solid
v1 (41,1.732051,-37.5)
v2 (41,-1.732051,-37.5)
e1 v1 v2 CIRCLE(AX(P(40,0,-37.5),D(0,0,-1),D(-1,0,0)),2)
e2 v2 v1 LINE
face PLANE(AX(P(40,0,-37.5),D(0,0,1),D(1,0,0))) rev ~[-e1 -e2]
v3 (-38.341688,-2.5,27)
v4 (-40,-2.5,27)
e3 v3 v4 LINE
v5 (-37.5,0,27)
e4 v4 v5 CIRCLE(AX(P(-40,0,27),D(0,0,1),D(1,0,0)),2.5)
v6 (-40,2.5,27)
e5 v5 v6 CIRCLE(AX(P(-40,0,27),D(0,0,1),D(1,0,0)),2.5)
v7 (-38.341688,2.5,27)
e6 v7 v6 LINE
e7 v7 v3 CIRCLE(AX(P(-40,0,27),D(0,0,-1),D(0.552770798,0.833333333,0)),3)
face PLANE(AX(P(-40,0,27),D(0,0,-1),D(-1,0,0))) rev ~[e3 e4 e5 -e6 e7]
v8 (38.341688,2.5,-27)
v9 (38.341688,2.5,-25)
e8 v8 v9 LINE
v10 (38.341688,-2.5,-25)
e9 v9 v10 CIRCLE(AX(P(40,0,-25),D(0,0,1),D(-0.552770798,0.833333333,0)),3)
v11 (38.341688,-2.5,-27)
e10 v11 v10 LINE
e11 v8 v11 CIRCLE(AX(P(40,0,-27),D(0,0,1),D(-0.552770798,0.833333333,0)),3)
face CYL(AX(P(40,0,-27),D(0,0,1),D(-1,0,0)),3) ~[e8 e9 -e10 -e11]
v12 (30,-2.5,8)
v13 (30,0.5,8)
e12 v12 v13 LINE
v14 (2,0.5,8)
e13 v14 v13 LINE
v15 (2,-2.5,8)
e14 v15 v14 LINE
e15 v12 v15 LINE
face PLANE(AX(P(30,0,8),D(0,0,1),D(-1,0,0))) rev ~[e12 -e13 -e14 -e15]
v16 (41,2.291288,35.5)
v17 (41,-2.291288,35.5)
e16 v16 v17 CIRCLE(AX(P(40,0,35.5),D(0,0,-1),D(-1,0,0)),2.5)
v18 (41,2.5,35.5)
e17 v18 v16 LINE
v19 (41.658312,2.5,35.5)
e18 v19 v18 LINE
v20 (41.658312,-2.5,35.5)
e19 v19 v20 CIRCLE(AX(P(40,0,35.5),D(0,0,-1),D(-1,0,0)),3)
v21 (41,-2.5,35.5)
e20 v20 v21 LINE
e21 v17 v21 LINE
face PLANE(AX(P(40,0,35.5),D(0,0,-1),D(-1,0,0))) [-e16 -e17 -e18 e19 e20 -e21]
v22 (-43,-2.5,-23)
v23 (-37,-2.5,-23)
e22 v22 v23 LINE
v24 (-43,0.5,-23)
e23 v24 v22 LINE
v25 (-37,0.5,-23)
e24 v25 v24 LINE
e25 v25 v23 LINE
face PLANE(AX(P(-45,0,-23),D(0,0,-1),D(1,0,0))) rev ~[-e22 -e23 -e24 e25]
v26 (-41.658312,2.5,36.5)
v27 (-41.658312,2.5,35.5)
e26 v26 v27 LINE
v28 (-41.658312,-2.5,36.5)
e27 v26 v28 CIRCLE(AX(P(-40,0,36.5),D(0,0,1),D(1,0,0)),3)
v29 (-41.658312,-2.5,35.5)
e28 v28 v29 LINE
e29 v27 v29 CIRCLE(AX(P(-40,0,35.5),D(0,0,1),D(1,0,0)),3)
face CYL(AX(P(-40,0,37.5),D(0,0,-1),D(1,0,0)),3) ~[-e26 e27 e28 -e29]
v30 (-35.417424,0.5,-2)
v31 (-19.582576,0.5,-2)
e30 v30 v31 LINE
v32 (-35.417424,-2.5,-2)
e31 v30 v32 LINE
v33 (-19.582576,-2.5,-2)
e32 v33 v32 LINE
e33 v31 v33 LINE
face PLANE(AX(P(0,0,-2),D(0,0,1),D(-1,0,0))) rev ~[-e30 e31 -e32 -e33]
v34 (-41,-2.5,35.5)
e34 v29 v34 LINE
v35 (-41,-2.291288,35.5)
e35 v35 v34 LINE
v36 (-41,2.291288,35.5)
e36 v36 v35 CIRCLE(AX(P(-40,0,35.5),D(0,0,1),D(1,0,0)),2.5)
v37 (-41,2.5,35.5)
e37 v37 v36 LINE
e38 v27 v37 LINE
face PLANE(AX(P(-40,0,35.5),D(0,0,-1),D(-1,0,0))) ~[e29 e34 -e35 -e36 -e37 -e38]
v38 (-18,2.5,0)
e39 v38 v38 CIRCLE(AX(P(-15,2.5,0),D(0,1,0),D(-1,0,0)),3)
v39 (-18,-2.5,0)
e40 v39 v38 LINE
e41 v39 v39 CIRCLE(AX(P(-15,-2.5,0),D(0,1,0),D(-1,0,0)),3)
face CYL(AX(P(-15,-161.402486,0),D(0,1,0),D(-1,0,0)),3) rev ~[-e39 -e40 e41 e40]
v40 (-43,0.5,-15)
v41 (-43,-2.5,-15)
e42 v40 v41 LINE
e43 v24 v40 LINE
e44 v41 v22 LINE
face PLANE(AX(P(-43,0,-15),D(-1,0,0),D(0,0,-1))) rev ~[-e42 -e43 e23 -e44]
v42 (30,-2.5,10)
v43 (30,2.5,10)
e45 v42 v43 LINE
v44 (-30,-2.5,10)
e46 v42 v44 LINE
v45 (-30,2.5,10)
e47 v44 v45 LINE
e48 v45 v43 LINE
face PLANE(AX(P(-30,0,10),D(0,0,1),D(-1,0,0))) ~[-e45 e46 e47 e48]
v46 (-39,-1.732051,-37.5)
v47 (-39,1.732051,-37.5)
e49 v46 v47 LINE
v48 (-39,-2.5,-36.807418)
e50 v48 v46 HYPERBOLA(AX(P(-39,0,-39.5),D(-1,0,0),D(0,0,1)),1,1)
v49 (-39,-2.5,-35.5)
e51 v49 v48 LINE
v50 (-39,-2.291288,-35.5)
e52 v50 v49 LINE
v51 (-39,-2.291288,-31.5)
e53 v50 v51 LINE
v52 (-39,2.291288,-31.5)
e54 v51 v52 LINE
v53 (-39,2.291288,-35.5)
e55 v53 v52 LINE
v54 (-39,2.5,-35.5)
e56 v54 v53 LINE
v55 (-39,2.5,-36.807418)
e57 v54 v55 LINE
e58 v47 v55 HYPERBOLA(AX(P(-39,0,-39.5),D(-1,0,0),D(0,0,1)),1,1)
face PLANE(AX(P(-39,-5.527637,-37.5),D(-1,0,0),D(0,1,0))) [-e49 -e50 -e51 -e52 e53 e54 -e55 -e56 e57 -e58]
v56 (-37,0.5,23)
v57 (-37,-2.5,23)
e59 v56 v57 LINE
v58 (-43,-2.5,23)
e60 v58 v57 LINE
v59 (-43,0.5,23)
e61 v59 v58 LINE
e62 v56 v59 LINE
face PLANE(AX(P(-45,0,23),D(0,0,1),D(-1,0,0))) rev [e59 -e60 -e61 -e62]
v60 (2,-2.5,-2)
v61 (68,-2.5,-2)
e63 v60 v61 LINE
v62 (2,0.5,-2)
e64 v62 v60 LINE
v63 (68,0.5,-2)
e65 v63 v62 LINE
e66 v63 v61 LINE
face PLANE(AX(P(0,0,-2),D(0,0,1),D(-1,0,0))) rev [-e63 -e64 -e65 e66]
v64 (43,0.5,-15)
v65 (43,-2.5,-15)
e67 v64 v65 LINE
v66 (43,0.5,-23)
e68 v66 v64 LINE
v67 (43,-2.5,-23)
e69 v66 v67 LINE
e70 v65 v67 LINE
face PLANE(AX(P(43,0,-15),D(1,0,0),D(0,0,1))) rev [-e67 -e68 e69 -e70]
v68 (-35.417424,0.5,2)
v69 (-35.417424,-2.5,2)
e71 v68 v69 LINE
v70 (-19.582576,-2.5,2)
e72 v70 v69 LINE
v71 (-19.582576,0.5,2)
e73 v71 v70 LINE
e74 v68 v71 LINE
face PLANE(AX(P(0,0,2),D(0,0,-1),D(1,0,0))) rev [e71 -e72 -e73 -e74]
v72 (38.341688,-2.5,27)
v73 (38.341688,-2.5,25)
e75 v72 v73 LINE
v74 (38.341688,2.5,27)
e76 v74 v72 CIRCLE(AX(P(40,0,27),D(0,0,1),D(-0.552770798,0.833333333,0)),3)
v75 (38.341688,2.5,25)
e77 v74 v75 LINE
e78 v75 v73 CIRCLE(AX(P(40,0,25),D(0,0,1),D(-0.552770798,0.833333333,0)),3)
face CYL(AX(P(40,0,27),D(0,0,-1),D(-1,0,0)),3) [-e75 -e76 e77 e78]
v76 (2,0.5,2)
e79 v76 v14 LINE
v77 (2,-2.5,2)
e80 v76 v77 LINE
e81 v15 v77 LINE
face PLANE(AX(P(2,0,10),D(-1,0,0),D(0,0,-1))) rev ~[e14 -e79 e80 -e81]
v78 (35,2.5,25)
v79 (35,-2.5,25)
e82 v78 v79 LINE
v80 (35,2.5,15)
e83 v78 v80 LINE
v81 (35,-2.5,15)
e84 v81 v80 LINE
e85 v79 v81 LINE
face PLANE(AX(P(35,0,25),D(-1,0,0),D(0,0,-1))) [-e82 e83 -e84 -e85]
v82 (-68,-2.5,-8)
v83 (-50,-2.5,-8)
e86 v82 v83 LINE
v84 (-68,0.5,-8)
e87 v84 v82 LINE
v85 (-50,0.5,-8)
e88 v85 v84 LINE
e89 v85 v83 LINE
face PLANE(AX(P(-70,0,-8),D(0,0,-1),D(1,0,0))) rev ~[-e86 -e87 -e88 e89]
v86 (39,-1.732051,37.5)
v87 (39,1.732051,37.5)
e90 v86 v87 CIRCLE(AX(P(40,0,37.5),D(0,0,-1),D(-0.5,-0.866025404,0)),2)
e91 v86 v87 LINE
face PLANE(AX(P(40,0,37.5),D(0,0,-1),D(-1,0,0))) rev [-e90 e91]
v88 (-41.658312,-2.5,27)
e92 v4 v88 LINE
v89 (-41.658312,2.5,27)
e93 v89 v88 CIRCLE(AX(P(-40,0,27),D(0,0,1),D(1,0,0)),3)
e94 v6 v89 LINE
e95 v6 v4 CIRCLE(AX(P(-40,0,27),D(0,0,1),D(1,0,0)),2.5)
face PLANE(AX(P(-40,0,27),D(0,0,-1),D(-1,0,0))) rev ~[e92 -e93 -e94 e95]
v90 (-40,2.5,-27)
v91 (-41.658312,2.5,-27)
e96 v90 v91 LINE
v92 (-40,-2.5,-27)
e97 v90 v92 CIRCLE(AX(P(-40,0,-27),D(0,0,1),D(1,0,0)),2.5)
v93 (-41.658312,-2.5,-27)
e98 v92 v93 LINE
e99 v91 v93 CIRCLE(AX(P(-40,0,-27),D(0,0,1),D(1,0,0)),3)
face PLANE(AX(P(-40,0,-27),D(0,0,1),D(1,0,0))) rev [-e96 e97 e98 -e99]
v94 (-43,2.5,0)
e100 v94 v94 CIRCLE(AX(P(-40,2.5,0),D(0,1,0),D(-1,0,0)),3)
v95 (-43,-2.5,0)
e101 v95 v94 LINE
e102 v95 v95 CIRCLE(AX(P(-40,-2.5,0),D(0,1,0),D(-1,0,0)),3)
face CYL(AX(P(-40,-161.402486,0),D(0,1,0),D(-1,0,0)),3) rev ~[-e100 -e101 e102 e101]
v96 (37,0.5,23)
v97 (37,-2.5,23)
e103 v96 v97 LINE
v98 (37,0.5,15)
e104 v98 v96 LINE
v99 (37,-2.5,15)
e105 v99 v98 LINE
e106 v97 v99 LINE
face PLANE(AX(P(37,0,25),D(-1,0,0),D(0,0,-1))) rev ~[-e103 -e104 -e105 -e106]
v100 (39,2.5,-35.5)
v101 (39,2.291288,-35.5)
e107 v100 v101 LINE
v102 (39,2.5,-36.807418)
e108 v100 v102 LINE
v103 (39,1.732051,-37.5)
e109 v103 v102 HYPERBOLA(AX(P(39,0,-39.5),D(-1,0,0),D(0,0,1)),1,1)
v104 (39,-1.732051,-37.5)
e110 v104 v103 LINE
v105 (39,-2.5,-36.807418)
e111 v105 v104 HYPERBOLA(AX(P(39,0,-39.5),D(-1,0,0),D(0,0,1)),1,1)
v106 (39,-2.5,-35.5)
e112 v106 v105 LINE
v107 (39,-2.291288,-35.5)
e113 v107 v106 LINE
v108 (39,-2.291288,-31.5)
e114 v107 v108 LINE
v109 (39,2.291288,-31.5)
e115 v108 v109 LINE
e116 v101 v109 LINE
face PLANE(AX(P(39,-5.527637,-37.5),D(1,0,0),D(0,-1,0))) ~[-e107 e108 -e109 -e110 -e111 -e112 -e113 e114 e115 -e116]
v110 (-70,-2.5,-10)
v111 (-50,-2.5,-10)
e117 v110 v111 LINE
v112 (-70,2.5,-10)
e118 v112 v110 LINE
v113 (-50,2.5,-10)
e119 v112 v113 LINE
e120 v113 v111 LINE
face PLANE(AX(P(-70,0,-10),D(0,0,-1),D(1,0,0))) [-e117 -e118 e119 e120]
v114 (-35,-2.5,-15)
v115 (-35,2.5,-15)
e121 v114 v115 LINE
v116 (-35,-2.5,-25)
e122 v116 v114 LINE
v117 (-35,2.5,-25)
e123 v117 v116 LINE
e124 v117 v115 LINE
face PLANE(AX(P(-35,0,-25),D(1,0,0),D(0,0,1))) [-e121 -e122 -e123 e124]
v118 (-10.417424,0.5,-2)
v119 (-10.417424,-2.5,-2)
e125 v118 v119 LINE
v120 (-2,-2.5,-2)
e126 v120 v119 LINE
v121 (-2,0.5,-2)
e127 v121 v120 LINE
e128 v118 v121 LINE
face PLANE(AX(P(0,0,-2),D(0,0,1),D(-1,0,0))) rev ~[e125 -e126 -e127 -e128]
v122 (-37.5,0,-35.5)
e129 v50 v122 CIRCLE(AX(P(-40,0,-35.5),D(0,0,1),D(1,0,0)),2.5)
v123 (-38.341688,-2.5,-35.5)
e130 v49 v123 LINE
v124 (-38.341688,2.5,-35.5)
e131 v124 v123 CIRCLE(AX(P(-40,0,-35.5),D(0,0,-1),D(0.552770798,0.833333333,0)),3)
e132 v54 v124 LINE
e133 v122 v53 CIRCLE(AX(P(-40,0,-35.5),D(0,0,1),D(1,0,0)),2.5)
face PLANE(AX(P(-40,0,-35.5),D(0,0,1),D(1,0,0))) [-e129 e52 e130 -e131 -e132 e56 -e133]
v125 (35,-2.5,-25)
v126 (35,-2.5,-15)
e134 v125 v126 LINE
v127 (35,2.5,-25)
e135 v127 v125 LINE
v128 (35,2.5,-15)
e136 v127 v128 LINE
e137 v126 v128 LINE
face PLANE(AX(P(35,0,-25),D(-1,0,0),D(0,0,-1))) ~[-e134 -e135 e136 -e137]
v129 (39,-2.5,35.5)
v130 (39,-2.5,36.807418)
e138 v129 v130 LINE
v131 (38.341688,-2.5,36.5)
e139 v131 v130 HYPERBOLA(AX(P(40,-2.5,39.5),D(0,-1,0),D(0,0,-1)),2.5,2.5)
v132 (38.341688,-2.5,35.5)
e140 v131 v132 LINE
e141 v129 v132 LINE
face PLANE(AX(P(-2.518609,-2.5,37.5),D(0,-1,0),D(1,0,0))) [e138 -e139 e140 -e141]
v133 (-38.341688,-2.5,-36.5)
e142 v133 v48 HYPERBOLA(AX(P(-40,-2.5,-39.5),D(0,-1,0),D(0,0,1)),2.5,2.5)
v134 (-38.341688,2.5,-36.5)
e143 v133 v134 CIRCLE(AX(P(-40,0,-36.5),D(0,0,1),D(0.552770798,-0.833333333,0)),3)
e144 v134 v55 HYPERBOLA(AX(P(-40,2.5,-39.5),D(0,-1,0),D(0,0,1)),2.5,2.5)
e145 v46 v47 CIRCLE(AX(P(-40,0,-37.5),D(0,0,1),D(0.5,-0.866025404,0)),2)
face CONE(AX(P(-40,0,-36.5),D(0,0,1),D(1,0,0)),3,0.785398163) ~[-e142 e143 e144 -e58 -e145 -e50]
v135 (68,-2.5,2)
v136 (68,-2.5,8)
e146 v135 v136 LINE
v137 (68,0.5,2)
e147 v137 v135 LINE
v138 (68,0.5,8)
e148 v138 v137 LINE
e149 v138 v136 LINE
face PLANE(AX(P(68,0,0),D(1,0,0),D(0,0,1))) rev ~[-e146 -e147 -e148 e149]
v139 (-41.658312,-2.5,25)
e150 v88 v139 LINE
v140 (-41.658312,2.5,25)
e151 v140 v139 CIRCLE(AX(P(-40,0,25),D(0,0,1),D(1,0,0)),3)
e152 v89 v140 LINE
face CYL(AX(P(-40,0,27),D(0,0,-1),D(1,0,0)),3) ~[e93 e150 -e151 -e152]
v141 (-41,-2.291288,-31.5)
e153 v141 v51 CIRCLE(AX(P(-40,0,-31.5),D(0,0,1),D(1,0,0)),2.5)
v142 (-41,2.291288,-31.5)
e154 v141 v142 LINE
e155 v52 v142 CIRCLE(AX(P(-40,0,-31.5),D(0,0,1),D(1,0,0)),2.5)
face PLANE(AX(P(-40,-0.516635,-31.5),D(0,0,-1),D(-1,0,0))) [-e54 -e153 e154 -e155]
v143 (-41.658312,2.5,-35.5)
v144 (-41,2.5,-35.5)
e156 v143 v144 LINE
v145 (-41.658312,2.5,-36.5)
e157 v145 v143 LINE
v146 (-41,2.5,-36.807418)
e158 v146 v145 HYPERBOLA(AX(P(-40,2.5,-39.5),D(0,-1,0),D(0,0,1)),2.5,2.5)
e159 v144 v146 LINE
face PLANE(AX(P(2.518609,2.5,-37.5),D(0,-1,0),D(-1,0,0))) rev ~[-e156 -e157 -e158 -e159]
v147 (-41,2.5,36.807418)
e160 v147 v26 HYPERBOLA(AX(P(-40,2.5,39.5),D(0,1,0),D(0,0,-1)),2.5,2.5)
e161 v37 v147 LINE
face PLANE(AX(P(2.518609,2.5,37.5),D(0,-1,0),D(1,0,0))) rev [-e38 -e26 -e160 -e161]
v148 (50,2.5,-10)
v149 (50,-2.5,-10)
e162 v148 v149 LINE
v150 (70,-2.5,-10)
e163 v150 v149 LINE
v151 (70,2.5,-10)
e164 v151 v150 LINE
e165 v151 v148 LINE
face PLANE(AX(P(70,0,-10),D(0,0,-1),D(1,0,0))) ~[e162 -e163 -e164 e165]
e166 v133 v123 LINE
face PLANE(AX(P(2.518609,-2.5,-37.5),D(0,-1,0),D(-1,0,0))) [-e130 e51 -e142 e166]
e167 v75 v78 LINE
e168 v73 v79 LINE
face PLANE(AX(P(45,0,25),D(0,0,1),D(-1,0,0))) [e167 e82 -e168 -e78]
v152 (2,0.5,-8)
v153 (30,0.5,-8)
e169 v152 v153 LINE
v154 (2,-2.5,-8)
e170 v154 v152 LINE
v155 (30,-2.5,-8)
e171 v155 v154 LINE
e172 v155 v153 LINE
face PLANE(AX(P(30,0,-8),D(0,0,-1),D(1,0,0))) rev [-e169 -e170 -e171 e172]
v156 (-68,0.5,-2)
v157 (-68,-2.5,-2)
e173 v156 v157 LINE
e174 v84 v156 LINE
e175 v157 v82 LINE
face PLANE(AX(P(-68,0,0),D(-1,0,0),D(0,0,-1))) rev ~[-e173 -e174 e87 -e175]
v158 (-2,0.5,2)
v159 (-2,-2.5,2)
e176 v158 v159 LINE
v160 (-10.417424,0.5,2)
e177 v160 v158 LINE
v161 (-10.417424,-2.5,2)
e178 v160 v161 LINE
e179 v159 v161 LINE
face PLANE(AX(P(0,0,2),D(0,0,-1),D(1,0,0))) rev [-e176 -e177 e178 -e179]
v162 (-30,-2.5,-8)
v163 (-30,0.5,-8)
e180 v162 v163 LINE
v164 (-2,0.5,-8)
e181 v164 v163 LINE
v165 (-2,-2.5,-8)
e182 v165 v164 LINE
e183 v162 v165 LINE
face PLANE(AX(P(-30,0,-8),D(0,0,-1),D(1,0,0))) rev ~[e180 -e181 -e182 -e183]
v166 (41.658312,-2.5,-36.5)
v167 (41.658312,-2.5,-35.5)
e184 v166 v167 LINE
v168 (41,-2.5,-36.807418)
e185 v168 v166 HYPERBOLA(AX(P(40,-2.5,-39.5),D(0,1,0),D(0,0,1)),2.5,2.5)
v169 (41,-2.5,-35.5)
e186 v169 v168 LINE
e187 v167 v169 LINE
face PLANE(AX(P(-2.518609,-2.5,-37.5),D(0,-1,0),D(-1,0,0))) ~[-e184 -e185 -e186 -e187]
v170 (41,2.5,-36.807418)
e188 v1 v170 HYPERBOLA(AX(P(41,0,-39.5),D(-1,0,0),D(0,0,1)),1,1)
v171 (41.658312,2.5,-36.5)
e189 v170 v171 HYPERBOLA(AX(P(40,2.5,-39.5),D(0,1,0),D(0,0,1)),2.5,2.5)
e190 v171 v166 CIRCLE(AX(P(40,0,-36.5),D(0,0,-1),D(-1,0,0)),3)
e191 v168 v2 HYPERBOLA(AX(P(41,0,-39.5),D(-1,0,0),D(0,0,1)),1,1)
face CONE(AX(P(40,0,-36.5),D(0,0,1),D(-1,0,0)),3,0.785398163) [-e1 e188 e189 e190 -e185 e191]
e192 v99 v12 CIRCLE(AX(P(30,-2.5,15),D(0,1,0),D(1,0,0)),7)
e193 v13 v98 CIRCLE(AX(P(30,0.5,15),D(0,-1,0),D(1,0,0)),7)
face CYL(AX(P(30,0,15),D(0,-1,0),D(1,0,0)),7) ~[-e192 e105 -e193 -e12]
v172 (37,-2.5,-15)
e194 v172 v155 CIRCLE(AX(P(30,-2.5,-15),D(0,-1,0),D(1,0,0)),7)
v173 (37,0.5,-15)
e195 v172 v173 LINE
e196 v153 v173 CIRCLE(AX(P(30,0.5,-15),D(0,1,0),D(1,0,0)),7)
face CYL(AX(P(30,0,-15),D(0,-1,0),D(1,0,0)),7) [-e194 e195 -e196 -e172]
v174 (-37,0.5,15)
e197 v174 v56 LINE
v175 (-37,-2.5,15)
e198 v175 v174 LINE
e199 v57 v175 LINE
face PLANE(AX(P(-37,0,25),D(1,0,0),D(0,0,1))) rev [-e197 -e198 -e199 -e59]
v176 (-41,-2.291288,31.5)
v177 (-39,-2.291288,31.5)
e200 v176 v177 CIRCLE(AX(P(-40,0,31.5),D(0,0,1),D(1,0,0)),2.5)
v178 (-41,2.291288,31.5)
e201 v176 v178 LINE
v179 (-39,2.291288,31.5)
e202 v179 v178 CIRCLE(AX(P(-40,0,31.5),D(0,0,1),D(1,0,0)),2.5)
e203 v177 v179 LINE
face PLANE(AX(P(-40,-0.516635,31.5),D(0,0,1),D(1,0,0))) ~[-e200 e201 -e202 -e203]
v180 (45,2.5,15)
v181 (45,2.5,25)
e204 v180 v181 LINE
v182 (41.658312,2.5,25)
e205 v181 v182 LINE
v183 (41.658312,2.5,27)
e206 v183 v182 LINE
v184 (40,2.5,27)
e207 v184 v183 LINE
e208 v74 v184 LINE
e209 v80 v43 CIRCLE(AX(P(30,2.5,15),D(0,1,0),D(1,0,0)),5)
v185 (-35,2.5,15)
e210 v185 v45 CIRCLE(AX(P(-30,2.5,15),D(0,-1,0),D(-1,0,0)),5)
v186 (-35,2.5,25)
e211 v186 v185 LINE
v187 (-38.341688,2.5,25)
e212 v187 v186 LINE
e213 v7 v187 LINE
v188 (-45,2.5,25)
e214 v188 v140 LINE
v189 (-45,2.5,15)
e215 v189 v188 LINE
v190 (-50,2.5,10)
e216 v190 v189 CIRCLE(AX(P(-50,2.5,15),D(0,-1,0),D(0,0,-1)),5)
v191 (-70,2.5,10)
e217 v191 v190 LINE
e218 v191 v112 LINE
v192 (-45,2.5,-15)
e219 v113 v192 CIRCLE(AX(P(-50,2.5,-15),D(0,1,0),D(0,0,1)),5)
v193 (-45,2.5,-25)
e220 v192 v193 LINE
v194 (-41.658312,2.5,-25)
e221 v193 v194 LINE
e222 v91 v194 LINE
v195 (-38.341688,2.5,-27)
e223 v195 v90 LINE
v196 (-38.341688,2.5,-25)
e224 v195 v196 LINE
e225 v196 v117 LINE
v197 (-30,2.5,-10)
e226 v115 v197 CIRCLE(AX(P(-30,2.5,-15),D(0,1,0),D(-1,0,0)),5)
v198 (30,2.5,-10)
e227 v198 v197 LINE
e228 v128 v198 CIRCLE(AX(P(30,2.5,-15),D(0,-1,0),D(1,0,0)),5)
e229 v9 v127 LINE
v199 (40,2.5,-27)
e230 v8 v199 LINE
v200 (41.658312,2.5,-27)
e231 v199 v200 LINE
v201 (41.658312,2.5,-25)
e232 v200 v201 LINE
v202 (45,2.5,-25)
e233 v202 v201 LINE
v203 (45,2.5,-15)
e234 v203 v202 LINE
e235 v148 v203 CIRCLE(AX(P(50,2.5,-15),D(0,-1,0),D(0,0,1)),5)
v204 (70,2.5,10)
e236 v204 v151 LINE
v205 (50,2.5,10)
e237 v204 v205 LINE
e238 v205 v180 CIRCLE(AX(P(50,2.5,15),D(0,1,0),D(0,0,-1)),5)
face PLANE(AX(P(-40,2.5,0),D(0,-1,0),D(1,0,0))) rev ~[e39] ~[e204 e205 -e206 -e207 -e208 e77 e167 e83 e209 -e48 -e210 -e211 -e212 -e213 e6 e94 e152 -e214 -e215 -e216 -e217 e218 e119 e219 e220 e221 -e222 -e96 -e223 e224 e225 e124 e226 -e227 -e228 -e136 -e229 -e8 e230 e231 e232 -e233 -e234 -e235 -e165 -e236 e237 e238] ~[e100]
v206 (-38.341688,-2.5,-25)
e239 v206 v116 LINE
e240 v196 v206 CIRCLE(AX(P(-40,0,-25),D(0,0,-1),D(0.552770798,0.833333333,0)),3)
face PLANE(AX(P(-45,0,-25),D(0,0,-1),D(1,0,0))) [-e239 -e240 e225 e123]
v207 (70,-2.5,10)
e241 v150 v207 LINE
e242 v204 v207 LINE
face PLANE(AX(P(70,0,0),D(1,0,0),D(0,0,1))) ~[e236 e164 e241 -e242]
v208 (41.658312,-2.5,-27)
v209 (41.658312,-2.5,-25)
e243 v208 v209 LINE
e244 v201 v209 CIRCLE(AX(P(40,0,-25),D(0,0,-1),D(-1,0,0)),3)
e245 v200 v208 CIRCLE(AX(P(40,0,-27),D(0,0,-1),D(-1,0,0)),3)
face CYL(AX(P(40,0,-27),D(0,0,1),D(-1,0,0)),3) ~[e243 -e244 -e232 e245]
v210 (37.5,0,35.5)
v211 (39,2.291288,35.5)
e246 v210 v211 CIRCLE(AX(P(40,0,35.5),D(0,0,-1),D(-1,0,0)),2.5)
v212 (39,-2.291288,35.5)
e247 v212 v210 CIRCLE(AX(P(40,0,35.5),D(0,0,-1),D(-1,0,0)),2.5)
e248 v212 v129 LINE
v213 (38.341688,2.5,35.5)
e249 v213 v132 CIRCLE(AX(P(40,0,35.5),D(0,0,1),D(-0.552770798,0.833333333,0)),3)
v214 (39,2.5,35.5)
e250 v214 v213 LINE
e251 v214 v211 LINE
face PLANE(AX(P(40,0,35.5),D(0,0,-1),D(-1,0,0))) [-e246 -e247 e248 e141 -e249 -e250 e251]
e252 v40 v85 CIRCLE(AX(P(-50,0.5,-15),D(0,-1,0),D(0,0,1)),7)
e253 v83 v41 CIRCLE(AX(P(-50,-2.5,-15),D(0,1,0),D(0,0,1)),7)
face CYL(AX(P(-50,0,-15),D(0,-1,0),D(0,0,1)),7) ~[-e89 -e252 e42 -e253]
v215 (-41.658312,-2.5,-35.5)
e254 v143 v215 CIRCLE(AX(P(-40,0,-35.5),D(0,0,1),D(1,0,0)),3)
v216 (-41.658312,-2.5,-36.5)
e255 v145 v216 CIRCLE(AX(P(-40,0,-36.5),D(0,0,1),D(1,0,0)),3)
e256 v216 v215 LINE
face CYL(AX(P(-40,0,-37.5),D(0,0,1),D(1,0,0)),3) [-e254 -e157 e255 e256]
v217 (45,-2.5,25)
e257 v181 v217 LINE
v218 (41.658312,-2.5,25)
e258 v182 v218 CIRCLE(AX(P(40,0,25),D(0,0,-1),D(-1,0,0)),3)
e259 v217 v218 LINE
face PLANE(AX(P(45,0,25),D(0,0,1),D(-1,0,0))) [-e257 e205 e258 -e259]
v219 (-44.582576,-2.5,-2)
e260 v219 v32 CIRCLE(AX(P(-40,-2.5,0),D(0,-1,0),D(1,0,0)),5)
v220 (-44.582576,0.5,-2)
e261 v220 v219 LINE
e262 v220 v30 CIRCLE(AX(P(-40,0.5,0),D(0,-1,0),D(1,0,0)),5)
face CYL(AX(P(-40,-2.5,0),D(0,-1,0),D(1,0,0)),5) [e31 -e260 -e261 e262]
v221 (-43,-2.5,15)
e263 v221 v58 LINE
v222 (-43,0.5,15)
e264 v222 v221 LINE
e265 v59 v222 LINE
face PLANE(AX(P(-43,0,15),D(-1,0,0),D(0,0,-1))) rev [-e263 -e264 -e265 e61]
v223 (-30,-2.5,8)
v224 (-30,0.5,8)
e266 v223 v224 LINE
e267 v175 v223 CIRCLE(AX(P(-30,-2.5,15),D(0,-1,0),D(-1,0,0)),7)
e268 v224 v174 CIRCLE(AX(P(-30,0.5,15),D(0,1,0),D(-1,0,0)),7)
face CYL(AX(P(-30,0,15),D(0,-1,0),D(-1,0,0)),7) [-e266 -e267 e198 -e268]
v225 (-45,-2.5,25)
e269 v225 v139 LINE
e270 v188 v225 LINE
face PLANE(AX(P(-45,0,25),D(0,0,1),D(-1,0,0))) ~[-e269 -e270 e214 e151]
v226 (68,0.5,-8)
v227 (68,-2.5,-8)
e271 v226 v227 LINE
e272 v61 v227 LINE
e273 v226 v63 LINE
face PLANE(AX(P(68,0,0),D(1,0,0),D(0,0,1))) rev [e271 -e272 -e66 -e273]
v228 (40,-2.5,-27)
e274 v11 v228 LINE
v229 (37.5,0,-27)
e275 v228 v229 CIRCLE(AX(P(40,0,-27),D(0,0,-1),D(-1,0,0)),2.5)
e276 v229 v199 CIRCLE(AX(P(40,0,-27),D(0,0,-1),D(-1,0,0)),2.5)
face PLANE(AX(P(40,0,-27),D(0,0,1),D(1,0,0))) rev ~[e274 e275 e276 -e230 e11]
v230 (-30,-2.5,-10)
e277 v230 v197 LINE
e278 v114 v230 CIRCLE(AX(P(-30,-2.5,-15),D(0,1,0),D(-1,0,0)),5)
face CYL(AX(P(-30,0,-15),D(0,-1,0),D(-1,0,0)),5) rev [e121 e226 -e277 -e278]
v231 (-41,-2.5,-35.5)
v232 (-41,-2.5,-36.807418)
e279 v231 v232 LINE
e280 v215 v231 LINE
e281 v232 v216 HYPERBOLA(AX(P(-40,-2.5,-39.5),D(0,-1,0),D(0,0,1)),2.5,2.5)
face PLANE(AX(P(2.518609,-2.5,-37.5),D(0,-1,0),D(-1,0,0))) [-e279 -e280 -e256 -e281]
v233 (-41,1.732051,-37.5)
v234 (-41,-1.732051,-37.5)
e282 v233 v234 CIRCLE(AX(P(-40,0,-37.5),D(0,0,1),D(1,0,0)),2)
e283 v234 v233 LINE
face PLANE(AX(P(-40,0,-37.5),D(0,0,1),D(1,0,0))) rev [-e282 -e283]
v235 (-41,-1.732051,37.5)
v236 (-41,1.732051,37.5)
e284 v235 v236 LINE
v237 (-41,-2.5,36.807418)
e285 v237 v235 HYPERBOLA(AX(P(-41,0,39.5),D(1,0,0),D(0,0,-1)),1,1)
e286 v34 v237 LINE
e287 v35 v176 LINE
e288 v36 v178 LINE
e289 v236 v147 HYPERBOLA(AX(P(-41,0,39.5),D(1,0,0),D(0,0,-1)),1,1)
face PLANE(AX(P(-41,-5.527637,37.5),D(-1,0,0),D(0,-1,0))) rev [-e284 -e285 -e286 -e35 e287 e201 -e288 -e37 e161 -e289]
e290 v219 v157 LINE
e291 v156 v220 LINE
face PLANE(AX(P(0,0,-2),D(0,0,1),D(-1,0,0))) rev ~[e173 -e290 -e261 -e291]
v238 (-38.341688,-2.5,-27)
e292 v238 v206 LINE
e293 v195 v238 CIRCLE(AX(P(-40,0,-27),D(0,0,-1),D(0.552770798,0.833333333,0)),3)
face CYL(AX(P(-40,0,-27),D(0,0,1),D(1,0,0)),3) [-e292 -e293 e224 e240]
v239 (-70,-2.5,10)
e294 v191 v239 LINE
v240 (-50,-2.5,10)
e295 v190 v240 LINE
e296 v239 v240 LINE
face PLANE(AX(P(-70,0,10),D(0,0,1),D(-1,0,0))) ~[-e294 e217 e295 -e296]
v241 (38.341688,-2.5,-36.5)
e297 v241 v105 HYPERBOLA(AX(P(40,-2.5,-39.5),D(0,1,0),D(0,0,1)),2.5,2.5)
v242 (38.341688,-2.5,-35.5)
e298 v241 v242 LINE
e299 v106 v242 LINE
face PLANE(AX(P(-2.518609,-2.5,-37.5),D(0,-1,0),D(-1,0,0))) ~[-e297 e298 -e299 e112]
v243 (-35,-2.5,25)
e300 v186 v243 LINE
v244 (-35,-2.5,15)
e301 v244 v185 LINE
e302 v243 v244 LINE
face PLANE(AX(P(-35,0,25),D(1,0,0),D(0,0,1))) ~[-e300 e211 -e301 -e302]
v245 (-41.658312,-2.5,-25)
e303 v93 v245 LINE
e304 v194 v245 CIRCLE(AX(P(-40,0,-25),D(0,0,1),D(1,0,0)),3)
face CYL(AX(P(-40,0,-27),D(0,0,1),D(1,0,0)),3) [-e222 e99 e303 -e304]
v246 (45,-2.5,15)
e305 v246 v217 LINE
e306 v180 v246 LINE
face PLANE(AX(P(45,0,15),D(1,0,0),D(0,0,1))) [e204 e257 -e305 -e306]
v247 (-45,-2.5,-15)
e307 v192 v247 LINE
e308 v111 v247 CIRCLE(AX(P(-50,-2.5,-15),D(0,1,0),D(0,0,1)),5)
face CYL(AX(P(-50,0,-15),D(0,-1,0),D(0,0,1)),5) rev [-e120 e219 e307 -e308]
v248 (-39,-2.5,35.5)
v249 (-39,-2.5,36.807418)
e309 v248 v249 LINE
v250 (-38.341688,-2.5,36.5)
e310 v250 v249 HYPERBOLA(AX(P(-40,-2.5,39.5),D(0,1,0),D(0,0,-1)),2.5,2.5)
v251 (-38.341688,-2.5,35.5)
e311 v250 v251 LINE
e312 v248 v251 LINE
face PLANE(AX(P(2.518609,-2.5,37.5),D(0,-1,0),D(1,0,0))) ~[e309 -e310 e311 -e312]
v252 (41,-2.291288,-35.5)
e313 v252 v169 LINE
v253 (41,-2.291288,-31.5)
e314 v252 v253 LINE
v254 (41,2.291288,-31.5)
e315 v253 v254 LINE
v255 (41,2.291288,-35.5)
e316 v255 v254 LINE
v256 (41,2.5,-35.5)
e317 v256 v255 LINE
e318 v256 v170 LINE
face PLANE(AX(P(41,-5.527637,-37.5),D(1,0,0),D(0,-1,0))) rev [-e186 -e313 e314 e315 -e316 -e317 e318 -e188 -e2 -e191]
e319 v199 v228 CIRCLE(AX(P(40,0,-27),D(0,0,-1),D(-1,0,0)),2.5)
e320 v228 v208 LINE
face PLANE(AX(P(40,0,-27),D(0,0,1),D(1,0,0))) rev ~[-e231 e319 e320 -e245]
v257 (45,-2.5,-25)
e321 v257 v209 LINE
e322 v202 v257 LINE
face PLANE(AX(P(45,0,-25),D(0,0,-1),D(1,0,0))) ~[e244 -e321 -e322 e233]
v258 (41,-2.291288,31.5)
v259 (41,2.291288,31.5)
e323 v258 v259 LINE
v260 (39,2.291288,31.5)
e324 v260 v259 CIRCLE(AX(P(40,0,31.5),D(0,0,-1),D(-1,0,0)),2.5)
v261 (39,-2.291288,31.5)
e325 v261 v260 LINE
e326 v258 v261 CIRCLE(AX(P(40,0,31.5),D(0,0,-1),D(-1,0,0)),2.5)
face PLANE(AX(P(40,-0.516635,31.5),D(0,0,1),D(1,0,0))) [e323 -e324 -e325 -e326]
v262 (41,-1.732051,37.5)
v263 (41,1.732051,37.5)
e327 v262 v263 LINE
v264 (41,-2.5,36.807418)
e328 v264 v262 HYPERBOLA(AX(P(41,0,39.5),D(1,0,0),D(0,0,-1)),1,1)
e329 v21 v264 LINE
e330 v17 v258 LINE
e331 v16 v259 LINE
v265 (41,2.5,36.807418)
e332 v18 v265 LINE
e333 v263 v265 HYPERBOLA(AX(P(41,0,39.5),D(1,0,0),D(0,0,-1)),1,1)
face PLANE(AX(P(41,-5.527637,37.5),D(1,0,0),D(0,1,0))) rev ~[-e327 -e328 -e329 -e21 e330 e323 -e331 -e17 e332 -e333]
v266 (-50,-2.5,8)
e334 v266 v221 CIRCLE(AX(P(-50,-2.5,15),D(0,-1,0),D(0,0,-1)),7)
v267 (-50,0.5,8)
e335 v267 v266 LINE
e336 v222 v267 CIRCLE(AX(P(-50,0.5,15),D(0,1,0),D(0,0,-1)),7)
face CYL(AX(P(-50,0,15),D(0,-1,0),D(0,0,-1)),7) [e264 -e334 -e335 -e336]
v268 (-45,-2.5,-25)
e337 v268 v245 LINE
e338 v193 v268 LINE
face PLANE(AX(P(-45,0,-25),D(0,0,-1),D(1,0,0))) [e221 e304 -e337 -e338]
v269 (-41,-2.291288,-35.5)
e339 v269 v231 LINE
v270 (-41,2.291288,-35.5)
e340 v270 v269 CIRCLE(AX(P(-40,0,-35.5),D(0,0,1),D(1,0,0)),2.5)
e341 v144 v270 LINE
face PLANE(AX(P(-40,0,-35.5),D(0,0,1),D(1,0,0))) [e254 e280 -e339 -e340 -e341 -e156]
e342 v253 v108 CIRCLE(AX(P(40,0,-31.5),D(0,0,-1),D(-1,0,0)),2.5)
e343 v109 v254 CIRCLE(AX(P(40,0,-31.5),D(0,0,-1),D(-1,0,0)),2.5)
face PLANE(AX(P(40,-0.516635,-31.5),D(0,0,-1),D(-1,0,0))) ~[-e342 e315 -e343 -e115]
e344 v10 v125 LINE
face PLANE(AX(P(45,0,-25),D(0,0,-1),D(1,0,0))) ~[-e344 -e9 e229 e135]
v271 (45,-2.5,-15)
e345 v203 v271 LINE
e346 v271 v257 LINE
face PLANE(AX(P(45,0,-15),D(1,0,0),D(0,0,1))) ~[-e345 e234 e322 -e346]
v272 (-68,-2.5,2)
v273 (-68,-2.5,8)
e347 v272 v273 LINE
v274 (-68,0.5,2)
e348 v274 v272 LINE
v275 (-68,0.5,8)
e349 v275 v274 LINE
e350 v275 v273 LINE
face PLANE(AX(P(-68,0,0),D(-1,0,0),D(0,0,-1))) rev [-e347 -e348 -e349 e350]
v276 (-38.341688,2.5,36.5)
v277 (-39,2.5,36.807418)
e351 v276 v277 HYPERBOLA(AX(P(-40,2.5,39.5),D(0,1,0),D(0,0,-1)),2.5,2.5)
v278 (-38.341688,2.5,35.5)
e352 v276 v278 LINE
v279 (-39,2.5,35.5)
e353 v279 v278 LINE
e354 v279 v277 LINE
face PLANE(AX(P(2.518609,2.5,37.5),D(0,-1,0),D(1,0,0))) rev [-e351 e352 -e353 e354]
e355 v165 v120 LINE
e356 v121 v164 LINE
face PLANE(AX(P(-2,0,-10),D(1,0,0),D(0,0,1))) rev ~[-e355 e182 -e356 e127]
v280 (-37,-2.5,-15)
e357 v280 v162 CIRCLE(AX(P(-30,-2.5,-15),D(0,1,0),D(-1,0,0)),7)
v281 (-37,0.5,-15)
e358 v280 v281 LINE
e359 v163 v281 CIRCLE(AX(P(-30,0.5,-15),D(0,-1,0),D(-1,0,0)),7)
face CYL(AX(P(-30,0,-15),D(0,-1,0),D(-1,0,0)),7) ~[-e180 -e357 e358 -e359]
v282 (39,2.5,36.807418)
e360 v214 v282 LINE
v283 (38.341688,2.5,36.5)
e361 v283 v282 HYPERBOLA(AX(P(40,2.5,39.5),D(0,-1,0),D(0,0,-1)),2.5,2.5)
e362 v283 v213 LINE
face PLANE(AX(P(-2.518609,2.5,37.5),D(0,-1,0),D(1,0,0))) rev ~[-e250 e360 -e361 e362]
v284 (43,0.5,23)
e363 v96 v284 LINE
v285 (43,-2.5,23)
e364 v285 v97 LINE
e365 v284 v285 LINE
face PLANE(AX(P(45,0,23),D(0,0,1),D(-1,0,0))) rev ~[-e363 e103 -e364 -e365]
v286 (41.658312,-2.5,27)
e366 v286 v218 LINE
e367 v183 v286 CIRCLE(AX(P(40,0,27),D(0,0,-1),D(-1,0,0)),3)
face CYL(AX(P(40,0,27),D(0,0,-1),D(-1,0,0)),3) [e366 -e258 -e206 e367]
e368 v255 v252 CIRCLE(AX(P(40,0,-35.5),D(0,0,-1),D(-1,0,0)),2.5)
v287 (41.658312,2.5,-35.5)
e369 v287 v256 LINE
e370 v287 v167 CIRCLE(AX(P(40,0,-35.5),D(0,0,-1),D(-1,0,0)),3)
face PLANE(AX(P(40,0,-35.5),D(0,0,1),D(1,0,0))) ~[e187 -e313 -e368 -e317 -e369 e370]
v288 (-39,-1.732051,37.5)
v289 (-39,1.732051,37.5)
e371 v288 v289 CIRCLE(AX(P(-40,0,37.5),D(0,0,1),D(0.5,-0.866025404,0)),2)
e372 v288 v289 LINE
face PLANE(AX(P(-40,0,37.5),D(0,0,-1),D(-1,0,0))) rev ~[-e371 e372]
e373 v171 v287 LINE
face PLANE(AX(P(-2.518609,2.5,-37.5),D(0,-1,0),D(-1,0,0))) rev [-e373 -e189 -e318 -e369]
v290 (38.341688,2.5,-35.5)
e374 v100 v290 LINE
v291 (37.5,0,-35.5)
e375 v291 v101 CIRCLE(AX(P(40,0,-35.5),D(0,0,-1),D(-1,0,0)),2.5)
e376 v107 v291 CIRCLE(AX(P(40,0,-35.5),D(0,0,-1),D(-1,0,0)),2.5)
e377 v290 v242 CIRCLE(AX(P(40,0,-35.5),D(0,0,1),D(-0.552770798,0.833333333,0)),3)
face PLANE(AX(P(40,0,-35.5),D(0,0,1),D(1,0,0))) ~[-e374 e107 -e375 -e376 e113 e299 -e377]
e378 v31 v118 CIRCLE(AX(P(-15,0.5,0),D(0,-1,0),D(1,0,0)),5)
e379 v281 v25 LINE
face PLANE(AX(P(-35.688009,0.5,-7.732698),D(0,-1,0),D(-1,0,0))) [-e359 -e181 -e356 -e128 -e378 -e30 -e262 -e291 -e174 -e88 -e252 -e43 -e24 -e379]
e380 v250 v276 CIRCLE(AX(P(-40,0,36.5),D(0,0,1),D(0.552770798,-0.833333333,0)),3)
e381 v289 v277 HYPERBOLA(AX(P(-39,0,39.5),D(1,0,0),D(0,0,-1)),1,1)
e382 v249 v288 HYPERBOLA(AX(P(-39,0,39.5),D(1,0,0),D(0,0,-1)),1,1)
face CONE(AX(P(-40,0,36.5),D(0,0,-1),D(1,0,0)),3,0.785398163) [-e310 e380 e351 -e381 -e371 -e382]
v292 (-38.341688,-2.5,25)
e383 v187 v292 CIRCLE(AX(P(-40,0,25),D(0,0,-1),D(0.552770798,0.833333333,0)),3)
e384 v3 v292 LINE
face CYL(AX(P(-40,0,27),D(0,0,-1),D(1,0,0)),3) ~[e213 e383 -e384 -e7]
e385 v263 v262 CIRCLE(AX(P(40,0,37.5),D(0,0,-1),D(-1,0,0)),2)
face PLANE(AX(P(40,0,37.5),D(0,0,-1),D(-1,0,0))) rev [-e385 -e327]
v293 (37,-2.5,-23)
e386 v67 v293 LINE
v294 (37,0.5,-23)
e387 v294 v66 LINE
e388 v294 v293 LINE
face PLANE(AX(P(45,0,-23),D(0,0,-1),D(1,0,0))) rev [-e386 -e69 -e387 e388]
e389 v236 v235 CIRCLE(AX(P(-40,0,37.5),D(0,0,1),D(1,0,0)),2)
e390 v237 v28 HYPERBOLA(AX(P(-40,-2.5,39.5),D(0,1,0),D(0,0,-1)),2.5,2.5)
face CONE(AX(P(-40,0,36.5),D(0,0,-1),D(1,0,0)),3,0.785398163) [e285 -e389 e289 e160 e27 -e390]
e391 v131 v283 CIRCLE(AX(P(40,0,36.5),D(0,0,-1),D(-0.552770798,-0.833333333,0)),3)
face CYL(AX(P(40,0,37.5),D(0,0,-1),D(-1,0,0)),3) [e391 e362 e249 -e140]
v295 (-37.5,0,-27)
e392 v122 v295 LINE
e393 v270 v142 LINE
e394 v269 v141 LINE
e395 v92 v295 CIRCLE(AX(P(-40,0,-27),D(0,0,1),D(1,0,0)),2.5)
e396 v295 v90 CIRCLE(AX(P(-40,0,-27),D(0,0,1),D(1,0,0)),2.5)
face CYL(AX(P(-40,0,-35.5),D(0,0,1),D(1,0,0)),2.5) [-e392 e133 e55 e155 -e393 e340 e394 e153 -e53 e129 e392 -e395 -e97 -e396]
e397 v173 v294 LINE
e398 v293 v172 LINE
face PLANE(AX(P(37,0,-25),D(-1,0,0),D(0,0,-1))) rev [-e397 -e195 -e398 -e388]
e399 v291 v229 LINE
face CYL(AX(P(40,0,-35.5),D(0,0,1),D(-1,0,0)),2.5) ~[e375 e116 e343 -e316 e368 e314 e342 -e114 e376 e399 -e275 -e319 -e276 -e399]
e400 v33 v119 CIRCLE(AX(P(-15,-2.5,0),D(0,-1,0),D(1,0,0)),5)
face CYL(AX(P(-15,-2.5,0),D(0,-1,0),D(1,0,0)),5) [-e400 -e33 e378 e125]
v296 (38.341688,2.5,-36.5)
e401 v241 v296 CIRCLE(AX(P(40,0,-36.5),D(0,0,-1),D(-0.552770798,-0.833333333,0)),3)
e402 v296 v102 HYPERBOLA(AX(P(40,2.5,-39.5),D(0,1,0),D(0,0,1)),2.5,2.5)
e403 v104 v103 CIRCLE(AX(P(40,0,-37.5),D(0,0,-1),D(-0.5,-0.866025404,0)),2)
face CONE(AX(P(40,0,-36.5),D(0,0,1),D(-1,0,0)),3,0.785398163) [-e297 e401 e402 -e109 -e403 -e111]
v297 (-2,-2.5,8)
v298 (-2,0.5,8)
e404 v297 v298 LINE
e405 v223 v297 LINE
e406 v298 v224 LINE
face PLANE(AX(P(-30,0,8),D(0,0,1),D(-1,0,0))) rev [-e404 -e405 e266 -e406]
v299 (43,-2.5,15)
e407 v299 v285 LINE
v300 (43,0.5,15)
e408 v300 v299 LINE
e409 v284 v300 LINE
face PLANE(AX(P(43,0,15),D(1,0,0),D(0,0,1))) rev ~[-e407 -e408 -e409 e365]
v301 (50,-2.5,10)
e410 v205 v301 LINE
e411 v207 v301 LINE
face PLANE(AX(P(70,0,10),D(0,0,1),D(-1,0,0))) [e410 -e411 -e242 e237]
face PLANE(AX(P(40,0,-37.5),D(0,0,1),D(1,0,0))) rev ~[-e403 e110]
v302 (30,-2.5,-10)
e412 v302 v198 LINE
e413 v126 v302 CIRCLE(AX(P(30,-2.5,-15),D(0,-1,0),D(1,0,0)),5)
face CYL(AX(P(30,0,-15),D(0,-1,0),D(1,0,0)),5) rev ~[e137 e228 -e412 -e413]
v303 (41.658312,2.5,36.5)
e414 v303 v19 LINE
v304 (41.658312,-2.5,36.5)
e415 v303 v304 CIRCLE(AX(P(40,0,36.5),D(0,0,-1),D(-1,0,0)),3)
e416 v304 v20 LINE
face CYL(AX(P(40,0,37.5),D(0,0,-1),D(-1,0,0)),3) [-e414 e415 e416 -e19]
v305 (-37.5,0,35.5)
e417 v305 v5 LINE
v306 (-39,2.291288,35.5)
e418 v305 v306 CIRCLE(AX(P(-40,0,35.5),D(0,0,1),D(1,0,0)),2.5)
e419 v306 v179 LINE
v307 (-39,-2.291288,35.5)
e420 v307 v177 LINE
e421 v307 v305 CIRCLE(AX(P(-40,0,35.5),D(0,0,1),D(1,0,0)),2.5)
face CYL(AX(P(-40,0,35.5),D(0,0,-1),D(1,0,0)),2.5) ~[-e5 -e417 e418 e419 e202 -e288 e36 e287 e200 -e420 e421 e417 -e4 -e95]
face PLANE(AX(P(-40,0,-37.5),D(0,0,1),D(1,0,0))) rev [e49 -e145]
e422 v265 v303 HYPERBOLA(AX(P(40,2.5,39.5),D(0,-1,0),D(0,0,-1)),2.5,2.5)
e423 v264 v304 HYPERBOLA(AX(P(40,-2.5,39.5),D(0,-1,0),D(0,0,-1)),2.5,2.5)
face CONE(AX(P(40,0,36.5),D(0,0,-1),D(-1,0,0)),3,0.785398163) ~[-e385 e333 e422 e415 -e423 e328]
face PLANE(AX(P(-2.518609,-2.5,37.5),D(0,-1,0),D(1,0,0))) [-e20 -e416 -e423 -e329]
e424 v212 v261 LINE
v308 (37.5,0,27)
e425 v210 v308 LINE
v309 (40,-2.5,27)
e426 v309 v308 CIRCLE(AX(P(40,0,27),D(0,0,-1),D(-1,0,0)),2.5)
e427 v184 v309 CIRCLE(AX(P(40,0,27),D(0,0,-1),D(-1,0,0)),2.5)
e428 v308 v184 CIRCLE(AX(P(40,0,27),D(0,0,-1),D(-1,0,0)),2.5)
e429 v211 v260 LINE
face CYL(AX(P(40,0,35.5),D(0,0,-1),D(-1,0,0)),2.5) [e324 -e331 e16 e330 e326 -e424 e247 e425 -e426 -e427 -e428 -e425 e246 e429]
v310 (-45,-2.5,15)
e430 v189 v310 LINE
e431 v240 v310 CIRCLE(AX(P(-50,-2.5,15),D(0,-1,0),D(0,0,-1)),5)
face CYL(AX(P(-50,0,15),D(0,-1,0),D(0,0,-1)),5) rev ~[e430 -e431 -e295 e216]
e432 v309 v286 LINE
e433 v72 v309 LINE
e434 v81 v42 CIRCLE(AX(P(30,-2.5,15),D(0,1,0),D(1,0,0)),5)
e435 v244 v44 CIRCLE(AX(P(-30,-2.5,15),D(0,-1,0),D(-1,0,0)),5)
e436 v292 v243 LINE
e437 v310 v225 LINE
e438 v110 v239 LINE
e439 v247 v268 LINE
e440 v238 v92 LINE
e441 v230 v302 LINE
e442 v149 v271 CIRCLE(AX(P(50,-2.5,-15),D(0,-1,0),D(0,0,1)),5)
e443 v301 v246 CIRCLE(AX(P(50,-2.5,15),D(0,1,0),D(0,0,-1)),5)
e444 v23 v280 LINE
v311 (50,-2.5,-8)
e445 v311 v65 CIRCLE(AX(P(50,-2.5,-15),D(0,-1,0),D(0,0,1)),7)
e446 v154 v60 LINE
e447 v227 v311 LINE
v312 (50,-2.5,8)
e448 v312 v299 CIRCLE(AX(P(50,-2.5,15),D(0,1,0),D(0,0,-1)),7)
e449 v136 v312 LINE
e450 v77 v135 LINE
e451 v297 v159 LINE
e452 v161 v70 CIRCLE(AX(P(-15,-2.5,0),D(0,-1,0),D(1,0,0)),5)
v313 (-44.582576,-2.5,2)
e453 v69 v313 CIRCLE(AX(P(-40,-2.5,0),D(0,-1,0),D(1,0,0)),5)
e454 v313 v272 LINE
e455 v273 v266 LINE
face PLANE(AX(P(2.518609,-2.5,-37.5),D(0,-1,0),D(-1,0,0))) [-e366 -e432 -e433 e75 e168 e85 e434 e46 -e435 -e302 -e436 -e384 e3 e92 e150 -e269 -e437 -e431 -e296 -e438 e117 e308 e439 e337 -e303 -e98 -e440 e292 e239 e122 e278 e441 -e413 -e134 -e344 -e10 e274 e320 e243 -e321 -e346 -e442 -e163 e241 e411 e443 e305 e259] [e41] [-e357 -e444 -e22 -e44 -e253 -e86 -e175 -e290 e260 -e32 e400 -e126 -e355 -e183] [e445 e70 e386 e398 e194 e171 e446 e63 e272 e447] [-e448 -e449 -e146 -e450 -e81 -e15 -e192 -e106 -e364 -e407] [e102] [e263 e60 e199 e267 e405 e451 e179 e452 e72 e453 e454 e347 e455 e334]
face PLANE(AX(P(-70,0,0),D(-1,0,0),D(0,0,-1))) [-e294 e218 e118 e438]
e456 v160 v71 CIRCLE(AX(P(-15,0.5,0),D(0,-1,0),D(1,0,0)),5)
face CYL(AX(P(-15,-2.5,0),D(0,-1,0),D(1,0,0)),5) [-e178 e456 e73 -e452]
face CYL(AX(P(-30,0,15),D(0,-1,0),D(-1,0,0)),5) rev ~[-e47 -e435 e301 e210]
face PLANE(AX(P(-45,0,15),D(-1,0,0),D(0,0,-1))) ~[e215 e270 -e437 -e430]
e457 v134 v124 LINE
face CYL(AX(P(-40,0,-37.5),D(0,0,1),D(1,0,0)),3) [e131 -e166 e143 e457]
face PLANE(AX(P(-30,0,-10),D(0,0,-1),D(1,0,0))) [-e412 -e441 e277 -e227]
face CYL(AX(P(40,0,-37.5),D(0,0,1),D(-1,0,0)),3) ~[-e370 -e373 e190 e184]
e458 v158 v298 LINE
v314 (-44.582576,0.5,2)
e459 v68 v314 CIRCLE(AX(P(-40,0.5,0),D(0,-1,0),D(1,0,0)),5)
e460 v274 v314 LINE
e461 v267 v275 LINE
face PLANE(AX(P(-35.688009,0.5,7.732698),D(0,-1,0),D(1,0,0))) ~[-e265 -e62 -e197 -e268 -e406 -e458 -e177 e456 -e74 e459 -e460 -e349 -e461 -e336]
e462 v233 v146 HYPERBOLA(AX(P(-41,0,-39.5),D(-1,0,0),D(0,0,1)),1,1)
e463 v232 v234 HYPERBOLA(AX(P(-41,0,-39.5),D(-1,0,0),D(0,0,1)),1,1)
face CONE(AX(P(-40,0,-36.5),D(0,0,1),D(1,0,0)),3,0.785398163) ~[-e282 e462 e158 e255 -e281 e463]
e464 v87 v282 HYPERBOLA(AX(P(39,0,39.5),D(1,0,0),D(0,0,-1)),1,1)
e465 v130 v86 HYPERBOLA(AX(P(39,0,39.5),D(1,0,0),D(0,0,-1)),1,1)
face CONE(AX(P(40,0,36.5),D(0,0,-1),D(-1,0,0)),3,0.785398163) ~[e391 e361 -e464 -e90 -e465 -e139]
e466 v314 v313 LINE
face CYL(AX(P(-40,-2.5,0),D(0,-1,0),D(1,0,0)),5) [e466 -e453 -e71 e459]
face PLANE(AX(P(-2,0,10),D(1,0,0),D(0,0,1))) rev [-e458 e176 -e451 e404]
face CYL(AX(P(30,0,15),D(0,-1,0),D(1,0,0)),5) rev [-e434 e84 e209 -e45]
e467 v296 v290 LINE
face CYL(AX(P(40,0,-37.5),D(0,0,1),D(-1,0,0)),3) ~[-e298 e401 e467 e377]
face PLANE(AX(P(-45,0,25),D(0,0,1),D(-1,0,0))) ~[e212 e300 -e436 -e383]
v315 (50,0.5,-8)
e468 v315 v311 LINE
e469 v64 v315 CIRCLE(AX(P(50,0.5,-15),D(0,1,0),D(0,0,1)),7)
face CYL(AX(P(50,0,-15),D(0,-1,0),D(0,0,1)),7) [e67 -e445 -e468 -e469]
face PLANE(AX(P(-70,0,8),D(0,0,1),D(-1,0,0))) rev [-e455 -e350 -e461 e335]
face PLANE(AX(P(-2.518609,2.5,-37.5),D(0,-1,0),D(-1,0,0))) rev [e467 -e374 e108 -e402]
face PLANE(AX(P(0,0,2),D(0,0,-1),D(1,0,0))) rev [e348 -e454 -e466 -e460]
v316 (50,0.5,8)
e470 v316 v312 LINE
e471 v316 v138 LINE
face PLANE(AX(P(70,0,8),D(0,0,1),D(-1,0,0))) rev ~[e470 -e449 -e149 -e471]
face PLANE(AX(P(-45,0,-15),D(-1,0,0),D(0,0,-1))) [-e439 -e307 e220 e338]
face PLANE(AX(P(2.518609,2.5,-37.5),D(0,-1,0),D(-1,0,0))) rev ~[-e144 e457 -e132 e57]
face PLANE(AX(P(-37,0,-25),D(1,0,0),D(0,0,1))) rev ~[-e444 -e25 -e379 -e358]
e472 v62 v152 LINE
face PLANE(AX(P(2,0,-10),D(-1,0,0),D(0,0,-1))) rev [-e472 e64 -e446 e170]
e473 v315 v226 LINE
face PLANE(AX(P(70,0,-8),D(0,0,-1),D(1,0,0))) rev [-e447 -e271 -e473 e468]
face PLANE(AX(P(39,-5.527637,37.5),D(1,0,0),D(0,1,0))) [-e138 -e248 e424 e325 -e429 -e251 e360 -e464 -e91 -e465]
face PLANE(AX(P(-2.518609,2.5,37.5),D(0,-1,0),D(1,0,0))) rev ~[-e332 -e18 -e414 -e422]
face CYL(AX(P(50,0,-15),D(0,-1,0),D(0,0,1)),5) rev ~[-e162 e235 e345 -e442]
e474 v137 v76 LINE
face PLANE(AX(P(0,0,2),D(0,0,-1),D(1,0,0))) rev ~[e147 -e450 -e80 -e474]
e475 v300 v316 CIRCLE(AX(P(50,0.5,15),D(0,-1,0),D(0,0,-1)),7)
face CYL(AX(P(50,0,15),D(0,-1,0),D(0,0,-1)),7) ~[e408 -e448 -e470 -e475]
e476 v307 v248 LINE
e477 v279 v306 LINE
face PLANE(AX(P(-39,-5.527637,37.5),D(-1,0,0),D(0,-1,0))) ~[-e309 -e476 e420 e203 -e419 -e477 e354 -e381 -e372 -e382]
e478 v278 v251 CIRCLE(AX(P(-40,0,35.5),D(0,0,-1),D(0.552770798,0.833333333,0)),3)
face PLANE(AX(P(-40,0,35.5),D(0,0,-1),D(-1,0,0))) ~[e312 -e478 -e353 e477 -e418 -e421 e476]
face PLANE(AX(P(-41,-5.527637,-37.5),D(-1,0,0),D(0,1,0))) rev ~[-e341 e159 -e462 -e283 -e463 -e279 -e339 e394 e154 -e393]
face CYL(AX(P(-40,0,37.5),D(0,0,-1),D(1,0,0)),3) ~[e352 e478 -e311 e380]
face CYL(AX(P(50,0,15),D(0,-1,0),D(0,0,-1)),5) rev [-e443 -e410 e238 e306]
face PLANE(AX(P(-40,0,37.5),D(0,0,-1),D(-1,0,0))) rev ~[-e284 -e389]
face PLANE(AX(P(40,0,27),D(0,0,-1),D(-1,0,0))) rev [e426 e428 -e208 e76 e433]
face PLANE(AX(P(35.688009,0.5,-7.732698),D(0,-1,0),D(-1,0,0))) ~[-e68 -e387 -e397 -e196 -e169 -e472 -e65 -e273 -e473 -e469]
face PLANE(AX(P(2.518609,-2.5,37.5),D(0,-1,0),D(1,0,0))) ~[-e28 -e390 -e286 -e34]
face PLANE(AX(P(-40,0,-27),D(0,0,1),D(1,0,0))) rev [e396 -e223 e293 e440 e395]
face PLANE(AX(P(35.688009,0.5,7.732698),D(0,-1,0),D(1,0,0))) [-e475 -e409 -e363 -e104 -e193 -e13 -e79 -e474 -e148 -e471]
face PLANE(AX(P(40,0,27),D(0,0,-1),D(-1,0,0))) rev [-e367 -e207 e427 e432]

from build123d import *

# Parameters (mm, degrees)
F1_DEPTH  = 2.5
F2_T      = -2
F5_SIZE   = 1
F6_W      = 75.6324666962
F6_H      = 5
F7_DEPTH  = 37.501
F8_W      = 2
F8_H      = 10.0220041212
F9_DEPTH  = 6
F12_R     = 5
F13_DEPTH = 5
F15_D     = 6


with BuildPart() as f1:
    # F0 (on Front) → F1 (new body, symmetric)
    with BuildSketch(Plane.XZ):
        with BuildLine():
            Line((0, 10), (0, 0))
            Line((0, 0), (70, 0))
            Line((70, 0), (70, 10))
            Line((70, 10), (50, 10))
            ThreePointArc((50, 10), (46.4644660941, 11.4644660941), (45, 15))
            Line((45, 15), (45, 25))
            Line((45, 25), (35, 25))
            Line((35, 25), (35, 15))
            ThreePointArc((35, 15), (33.5355339059, 11.4644660941), (30, 10))
            Line((30, 10), (0, 10))
        make_face()
    extrude(amount=F1_DEPTH, both=True)

    # F2
    f2_openings = [f1.faces().sort_by_distance(p)[0] for p in [
        (35.933685, -2.5, 7.254637),
    ]]
    offset(amount=F2_T, openings=f2_openings)

    # F3 (on Front) → F4 (revolve)
    with BuildSketch(Plane.XZ):
        Polygon((37, 27), (37, 25), (40, 25), (40, 37.5), (37, 37.5), (37, 35.5), (37.5, 35.5), (37.5, 27), align=None)
    revolve(axis=Axis((40, 0, 31.25), (0, 0, -1)))

    # F5
    f5_edges = [f1.edges().sort_by_distance(p)[0] for p in [
        (43, 0, 37.5),
    ]]
    chamfer(f5_edges, length=F5_SIZE)

    # F6 (on face) → F7 (intersect, through all)
    with BuildSketch(Plane.XY.offset(37.5)):
        with Locations((35.2976246504, 0)):
            Rectangle(F6_W, F6_H)
    extrude(amount=-F7_DEPTH, mode=Mode.INTERSECT)

    # F8 (on face) → F9 (cut)
    with BuildSketch(Plane.XY.offset(37.5)):
        with Locations((40, -0.5166346673)):
            Rectangle(F8_W, F8_H)
    extrude(amount=-F9_DEPTH, mode=Mode.SUBTRACT)

    # F10: F1 across plane


with BuildPart() as f1_1:
    add(f1.part)
    add(f1.part.mirror(Plane.XY))

    # F11: F1 across plane


with BuildPart() as f1_2:
    add(f1_1.part)
    add(f1_1.part.mirror(Plane.YZ))

    # F12 (on face) → F13 (join, through all)
    with BuildSketch(Plane.XZ.offset(2.5)):
        with Locations((-40, 0)):
            Circle(F12_R)
        with Locations((-15, 0)):
            Circle(F12_R)
    extrude(amount=-F13_DEPTH)

    # F15 (through all)
    with Locations(Plane.XZ.offset(2.5)):
        with Locations((-40, 0), (-15, 0)):
            Hole(F15_D / 2)


solid = f1_2.part
